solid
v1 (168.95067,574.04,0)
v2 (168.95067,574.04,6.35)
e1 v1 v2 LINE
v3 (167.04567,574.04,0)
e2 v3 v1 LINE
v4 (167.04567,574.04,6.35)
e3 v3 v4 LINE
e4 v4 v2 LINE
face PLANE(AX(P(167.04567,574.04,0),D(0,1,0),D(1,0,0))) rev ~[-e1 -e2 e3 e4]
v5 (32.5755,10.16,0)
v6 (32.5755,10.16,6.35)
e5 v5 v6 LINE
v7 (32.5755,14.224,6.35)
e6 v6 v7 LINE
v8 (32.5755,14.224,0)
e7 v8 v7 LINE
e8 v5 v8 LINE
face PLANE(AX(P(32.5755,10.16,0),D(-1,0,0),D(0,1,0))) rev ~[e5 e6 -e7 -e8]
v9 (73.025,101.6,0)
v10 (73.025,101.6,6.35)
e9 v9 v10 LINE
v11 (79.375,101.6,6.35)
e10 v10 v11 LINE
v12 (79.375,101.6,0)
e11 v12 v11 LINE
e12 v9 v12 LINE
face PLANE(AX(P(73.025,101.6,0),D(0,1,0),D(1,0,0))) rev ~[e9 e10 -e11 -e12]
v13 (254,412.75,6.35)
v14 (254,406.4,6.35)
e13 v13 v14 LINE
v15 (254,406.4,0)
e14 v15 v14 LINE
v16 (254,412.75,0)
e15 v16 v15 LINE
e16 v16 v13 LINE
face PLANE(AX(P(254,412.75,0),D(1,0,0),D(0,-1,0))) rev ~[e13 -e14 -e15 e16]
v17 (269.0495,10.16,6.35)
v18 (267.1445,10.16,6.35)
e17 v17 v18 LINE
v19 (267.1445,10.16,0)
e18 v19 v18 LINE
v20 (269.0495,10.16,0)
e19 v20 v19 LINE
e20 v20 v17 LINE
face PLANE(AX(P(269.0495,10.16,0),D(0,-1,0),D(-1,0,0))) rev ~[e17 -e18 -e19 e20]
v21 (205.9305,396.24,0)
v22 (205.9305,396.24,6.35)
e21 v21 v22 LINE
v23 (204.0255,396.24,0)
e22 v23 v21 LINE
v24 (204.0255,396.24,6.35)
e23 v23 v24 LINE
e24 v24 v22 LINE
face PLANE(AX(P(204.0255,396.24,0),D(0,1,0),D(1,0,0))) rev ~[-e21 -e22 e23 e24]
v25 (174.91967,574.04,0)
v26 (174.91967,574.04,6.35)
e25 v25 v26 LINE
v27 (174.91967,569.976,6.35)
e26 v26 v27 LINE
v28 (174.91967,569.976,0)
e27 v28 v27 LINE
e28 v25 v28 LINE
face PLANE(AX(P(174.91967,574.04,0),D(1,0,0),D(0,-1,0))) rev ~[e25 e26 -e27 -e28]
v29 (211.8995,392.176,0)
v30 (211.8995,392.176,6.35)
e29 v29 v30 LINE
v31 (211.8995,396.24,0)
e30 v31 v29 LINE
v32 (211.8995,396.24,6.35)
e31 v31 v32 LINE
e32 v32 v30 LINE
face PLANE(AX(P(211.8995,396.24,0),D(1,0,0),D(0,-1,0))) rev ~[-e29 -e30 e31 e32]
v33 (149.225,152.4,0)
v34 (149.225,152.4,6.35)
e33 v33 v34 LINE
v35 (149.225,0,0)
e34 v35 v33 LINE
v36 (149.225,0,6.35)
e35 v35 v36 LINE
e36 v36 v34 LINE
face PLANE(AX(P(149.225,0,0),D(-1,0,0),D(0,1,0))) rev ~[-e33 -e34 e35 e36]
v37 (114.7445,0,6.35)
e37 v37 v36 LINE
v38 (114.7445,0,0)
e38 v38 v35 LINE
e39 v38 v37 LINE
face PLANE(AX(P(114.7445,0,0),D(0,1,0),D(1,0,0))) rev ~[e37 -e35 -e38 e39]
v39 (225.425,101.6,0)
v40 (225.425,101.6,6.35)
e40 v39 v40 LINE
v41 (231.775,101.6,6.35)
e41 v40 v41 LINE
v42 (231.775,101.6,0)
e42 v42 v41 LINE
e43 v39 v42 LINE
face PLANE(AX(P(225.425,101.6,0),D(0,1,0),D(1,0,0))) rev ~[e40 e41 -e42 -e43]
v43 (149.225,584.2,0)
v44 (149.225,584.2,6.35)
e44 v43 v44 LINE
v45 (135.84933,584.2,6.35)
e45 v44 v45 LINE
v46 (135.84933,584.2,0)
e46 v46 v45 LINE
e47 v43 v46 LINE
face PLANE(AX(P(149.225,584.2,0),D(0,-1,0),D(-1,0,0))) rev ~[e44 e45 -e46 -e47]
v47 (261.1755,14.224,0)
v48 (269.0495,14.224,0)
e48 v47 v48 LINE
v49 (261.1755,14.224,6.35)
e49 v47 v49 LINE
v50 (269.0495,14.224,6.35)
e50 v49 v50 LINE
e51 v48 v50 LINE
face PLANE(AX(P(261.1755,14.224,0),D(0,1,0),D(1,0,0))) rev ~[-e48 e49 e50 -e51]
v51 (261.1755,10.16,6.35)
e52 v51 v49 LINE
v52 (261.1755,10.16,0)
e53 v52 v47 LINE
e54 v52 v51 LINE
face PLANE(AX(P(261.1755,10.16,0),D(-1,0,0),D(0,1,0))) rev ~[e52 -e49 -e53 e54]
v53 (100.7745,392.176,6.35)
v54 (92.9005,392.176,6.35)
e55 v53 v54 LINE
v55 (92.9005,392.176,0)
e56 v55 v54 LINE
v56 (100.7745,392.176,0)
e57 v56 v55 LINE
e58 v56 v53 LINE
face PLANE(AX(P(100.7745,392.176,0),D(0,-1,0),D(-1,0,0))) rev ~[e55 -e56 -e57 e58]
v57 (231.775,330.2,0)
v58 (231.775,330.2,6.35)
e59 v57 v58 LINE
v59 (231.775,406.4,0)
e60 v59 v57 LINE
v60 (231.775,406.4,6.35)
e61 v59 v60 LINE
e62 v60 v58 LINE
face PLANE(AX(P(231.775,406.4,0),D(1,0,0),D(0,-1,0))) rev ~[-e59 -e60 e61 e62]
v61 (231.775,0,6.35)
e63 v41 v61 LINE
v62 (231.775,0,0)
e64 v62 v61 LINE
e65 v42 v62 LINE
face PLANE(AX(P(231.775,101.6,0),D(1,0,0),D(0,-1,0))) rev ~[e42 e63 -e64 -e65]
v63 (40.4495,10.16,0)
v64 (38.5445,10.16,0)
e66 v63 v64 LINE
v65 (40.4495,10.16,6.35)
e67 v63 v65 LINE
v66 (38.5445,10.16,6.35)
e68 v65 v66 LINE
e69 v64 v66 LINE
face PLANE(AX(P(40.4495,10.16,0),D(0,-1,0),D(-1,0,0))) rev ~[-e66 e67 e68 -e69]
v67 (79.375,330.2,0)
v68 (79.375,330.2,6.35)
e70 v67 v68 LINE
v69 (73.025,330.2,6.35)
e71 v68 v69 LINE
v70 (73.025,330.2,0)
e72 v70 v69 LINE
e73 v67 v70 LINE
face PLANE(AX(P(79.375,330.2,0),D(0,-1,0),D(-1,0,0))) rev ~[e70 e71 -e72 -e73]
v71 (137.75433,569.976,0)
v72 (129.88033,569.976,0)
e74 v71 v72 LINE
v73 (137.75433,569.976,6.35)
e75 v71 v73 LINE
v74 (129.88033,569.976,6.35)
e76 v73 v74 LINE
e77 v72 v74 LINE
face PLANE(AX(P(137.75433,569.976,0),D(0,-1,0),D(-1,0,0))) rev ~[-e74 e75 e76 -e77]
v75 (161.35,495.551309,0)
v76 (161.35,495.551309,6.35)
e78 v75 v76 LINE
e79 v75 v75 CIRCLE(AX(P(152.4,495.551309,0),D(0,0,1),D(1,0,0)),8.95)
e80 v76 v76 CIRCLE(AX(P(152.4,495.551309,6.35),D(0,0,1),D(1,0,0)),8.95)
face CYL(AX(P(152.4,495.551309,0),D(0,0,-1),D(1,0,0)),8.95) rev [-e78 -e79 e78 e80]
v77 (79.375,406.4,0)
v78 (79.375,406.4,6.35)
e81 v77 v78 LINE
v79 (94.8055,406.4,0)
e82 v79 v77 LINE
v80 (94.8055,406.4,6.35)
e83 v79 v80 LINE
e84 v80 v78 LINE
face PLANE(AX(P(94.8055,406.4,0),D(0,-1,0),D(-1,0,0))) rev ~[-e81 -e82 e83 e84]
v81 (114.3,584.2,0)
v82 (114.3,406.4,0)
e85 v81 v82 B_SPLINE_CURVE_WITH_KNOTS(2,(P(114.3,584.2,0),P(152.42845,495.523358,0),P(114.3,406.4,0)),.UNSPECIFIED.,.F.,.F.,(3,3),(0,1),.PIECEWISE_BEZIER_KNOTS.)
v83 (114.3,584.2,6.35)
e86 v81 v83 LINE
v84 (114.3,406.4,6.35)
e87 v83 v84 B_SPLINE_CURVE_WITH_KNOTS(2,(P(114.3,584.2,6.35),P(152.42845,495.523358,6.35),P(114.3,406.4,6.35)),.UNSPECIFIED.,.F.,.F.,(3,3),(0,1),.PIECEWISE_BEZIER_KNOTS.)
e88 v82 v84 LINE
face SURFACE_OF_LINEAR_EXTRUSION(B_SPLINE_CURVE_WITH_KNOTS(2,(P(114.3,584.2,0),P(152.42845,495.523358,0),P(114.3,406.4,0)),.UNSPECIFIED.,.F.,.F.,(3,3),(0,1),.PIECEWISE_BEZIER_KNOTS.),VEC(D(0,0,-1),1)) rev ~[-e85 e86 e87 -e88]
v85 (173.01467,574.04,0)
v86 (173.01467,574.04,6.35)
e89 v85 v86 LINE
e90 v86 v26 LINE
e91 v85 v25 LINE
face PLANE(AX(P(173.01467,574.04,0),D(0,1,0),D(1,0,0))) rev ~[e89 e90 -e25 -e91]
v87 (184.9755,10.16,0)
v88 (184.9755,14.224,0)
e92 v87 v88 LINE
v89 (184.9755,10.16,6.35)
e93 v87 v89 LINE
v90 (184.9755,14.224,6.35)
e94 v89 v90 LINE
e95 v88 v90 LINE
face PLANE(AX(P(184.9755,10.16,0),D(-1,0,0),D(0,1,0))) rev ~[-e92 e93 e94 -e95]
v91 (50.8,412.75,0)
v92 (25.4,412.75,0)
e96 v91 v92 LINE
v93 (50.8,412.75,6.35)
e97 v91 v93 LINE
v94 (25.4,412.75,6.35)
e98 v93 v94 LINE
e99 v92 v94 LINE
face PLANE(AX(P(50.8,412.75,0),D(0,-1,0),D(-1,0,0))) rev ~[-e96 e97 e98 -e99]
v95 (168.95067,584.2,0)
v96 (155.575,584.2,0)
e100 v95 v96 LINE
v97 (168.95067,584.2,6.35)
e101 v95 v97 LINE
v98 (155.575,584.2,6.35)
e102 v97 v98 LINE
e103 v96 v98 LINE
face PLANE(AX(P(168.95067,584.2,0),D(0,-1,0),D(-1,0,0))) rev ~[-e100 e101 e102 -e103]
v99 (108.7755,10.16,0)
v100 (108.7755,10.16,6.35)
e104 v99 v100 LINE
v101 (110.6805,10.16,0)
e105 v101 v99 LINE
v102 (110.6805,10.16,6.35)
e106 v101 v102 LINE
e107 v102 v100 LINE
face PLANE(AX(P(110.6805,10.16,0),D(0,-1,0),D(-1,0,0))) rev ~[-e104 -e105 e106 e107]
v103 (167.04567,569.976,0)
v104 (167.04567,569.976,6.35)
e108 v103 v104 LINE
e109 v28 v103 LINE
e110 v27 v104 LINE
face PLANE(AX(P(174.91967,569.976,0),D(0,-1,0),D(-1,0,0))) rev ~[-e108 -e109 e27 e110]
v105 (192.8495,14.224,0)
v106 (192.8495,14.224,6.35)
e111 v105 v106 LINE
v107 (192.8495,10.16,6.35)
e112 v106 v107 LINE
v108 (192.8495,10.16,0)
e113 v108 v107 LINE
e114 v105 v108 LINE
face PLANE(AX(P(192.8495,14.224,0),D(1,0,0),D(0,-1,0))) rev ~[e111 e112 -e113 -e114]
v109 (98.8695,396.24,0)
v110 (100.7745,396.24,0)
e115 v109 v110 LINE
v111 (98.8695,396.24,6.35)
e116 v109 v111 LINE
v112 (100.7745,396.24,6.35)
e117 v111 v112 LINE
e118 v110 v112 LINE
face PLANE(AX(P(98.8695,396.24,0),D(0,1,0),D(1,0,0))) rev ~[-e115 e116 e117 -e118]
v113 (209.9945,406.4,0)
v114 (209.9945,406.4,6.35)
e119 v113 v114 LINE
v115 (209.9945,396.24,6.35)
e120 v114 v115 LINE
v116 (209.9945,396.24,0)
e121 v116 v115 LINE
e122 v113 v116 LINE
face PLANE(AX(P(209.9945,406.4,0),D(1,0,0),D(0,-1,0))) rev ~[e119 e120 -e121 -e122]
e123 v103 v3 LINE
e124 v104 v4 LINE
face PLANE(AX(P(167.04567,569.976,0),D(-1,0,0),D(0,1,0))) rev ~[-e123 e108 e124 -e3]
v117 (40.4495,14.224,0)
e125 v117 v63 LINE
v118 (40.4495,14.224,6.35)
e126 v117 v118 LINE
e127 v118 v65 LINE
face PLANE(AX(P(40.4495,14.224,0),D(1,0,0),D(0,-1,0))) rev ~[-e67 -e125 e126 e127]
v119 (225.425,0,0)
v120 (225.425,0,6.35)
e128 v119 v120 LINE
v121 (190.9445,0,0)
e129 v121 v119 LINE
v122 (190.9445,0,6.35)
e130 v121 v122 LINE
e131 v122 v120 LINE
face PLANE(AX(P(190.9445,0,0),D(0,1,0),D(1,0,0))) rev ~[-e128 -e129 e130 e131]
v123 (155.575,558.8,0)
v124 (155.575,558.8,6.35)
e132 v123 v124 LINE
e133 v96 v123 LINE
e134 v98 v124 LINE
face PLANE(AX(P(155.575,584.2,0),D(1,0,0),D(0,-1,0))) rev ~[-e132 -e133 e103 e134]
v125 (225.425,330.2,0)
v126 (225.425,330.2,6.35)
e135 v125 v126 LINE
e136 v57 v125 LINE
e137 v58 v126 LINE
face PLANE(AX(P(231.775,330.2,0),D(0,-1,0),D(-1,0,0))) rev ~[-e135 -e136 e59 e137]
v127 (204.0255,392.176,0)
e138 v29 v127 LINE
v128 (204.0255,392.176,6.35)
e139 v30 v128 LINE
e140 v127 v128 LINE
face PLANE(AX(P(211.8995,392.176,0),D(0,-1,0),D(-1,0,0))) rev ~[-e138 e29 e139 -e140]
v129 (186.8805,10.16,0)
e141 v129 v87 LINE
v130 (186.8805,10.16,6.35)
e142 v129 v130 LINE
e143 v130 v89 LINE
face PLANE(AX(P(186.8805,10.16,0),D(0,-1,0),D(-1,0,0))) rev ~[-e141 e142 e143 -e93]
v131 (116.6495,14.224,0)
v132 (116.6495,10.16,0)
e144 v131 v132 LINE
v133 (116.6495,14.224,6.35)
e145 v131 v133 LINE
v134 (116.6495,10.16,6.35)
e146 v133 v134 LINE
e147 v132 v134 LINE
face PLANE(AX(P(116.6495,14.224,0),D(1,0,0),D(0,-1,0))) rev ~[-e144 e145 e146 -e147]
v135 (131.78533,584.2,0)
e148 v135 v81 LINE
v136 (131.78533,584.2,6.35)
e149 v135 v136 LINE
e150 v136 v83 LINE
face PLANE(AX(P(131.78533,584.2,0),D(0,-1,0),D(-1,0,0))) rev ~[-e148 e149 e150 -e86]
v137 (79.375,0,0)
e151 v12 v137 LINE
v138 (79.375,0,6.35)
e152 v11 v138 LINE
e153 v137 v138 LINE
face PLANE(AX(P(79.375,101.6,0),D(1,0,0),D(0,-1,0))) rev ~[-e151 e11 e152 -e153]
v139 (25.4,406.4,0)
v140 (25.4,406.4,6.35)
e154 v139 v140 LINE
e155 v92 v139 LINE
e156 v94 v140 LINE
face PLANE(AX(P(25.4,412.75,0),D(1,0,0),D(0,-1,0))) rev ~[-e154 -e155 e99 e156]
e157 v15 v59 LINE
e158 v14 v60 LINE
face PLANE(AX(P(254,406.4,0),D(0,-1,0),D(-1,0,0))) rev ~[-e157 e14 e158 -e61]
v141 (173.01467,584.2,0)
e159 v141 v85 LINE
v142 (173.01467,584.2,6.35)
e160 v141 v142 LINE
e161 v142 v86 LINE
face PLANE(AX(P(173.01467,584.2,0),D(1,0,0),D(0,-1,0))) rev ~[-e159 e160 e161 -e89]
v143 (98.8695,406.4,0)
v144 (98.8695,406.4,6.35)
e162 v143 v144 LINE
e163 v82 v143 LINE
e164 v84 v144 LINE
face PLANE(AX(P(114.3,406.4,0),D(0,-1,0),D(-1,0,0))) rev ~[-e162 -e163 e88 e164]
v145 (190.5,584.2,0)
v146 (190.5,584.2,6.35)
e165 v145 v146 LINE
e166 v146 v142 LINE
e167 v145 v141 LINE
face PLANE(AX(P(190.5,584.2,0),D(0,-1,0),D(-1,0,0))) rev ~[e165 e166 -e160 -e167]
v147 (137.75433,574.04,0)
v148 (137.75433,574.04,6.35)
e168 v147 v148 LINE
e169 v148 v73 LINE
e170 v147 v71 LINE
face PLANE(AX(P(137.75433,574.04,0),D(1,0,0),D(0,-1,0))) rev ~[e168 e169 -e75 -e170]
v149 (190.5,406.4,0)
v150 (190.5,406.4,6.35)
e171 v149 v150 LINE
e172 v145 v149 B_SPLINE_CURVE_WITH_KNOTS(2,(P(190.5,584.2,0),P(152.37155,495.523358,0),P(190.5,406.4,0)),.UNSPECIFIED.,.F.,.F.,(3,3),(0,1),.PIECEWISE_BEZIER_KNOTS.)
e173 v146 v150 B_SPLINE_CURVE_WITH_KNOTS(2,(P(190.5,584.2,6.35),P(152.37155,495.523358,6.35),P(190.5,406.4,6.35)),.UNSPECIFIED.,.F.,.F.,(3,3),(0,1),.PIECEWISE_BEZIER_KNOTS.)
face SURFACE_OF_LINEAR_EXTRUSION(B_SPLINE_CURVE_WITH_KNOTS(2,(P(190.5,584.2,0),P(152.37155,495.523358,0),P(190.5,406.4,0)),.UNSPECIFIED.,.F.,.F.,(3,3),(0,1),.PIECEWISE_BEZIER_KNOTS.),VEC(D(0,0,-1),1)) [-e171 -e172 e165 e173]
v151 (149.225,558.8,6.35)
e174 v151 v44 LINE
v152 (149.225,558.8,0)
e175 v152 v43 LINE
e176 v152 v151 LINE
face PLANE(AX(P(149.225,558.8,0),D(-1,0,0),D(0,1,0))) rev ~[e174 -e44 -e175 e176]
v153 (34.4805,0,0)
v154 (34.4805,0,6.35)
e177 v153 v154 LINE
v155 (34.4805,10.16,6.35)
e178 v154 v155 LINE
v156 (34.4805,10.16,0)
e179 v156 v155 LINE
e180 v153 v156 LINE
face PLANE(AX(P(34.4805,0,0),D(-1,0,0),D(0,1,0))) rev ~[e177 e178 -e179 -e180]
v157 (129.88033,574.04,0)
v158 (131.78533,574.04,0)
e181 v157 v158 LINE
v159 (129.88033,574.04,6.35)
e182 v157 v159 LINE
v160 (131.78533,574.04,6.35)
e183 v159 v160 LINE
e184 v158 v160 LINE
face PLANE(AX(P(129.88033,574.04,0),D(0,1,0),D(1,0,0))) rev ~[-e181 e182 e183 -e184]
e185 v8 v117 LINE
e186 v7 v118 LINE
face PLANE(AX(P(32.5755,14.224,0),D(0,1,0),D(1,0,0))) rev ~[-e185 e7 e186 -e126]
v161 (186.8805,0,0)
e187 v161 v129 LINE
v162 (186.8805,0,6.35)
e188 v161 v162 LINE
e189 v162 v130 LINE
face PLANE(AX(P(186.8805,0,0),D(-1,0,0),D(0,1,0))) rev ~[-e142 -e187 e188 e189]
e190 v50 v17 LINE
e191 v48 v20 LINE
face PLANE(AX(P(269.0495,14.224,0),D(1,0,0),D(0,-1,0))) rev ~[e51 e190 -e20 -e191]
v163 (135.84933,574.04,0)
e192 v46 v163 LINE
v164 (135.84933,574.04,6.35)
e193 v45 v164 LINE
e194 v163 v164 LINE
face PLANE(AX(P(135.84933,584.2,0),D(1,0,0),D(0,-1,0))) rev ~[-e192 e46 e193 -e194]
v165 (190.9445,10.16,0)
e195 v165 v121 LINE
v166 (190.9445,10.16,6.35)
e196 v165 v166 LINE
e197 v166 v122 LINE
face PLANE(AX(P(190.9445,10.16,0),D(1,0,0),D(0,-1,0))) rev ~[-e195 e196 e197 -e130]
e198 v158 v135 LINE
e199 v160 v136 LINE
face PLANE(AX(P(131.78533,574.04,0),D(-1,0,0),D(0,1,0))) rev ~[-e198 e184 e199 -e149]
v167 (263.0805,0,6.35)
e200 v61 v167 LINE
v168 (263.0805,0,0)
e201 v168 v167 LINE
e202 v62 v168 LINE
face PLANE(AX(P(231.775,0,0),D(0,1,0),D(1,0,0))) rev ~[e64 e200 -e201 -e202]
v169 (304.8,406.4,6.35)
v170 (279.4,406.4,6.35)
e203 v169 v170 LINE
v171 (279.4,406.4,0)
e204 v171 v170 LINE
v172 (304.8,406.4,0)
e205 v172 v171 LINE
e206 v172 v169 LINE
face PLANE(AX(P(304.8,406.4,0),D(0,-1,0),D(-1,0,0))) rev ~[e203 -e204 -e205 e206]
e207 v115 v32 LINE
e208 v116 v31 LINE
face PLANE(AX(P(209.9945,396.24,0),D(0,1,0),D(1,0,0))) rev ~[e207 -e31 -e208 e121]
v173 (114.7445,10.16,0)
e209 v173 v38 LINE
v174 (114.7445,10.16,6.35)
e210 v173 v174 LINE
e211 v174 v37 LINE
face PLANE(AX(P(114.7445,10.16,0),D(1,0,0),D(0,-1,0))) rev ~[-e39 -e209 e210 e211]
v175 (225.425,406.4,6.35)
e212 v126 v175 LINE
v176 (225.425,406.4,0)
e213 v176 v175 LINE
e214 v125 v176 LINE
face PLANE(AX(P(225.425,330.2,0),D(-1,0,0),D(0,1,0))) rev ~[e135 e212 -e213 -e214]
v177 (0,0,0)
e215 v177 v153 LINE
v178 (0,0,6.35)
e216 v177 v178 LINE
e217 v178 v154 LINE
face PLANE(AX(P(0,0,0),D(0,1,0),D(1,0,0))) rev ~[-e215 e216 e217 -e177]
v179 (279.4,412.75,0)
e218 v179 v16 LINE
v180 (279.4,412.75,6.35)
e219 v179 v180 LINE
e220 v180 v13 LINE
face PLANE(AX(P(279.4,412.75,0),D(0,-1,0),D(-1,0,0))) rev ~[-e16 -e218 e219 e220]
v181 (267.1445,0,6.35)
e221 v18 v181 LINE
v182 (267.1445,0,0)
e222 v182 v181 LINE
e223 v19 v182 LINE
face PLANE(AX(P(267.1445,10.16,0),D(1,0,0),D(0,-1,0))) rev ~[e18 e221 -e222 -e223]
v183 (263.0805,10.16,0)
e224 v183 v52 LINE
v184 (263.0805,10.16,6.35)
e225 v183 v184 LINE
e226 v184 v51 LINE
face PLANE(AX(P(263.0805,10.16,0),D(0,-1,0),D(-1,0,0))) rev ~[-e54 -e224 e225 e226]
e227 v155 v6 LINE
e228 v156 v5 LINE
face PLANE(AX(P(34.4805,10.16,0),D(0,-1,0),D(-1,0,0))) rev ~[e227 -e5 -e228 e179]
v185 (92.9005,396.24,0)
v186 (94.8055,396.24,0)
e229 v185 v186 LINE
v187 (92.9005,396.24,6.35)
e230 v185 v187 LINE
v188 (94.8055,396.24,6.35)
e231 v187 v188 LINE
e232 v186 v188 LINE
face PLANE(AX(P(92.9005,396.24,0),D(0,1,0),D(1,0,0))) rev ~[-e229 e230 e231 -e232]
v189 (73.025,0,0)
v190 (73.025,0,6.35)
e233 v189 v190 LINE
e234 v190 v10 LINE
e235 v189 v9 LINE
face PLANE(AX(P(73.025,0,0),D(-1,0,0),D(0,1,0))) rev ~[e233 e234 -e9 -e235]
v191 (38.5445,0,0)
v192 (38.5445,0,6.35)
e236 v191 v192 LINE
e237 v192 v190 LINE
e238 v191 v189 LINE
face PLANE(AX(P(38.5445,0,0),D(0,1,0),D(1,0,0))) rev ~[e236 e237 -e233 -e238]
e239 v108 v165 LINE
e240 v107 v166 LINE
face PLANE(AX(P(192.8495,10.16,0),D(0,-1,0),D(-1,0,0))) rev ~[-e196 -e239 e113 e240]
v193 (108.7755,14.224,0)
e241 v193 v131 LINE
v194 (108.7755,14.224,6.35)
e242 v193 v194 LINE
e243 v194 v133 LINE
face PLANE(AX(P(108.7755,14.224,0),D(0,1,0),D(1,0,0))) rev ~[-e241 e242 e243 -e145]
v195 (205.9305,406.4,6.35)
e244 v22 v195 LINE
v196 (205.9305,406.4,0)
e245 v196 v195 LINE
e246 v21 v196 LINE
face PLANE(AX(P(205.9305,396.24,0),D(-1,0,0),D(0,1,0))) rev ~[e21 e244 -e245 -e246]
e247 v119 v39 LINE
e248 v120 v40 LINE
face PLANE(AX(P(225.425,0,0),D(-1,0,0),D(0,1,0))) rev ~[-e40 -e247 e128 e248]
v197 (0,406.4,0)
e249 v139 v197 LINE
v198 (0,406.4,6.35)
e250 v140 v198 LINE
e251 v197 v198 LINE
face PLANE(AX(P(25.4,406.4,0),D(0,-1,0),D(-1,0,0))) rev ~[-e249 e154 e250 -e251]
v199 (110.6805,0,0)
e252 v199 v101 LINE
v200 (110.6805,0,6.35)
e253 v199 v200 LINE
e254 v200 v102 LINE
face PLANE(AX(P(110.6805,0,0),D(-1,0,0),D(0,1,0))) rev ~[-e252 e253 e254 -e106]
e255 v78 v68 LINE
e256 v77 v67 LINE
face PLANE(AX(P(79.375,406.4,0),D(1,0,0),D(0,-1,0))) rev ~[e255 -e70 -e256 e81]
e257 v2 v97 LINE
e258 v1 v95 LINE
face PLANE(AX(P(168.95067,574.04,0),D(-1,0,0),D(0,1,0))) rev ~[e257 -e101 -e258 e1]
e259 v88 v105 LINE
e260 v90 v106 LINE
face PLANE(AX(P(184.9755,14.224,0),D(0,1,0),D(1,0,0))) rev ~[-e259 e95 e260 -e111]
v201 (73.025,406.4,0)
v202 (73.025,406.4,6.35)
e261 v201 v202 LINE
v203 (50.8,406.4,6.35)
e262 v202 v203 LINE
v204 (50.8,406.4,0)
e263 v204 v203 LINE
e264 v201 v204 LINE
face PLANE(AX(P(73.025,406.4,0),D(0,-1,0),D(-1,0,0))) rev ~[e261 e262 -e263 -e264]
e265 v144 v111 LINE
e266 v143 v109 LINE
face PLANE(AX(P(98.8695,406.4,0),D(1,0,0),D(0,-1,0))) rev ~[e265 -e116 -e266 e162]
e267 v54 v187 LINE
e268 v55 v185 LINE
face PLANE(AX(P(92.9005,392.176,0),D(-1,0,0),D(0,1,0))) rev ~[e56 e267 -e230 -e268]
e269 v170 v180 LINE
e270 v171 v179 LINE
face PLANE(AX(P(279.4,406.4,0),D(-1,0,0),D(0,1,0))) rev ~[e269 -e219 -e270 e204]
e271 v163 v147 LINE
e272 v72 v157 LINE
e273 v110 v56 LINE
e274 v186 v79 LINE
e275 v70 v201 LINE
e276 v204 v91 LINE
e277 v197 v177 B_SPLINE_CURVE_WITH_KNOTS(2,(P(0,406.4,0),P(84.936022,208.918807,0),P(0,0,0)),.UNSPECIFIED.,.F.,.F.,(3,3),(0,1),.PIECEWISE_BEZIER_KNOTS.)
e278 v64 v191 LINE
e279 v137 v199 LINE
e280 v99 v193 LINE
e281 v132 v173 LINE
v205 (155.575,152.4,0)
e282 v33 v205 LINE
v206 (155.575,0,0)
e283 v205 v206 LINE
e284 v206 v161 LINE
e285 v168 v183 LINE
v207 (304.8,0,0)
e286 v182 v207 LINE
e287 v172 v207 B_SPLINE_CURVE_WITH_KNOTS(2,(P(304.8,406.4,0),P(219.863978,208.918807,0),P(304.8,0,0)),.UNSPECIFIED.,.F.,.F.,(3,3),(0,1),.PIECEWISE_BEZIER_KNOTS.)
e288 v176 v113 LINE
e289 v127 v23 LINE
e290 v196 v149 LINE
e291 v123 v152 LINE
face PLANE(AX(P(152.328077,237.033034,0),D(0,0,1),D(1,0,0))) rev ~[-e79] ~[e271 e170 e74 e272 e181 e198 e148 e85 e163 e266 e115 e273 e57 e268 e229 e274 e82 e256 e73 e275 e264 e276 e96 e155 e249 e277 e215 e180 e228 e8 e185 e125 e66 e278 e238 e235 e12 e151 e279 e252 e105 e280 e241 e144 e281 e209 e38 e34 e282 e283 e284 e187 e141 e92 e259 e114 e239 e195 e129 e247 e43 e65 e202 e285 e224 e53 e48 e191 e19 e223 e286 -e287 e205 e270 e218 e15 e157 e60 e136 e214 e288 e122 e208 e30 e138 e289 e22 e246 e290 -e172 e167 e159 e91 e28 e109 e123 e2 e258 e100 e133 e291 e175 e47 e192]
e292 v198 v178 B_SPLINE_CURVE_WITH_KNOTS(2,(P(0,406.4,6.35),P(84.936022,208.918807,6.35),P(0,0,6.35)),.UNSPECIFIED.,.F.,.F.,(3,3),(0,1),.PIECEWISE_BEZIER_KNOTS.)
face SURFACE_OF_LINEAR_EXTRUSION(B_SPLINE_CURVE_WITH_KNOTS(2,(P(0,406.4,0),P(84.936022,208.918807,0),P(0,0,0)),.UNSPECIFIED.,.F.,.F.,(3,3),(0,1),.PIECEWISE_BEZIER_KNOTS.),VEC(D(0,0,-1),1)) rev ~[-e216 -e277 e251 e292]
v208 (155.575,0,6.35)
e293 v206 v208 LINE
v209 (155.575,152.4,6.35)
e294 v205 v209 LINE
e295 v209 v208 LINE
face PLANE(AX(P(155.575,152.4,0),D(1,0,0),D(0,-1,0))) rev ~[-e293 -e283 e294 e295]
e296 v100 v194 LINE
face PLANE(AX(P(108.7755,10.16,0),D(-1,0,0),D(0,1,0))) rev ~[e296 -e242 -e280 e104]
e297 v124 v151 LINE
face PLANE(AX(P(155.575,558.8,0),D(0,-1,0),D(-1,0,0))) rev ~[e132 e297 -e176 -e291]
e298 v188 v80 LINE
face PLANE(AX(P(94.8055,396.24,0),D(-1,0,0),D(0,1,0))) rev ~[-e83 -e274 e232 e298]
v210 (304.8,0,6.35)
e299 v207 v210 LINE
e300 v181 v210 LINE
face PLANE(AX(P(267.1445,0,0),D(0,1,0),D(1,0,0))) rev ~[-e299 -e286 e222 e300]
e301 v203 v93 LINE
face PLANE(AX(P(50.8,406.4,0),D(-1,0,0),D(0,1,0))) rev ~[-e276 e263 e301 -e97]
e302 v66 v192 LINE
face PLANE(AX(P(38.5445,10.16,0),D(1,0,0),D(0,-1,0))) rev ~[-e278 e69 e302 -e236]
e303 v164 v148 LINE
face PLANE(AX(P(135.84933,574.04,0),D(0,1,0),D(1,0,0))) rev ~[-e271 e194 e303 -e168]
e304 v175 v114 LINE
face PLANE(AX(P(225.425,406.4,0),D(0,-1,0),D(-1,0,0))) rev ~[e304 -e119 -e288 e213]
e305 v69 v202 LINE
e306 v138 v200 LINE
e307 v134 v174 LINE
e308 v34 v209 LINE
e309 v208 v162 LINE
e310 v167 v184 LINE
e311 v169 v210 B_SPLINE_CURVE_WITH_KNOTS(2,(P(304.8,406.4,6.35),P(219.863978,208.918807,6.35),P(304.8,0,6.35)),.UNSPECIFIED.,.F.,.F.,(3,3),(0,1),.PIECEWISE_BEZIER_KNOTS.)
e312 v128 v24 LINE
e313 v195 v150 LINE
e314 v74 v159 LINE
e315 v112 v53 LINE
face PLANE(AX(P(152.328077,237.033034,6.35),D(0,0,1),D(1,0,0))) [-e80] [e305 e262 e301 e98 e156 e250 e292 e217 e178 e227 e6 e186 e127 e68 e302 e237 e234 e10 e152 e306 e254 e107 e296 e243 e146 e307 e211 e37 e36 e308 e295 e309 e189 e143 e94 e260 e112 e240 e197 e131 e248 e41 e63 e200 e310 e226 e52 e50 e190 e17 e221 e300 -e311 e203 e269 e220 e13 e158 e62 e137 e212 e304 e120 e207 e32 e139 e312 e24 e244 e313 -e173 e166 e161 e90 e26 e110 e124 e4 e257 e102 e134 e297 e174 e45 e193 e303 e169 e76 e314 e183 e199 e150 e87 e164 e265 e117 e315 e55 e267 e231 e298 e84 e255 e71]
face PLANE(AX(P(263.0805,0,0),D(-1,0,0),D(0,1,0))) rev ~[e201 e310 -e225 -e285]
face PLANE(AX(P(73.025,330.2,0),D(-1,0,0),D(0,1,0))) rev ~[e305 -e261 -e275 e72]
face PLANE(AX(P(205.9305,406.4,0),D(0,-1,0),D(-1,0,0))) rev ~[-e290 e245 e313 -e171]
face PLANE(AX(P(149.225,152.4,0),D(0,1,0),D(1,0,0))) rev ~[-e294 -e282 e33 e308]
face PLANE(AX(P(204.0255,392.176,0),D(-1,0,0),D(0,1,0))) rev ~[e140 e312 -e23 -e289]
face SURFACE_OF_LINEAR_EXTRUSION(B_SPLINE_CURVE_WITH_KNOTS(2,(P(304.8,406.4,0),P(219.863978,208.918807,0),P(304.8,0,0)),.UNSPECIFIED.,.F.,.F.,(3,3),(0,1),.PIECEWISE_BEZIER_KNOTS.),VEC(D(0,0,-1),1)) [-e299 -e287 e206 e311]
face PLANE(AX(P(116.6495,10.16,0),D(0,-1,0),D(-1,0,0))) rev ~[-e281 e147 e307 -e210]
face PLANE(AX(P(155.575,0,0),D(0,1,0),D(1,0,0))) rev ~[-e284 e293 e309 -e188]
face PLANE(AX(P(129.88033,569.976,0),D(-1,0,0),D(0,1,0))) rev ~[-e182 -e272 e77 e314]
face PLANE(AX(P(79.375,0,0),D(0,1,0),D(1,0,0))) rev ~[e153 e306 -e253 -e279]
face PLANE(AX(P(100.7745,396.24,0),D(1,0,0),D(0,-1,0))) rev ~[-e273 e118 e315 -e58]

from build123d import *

# Parameters (mm, degrees)
SKETCH1_R           = 8.95
BOSS_EXTRUDE1_DEPTH = 6.35


with BuildPart() as part:
    # Sketch1 → Boss-Extrude1 (new body)
    with BuildSketch(Plane.XY):
        with BuildLine():
            Line((0, 0), (34.4805, 0))
            Line((34.4805, 0), (34.4805, 10.16))
            Line((34.4805, 10.16), (32.5755, 10.16))
            Line((32.5755, 10.16), (32.5755, 14.224))
            Line((32.5755, 14.224), (40.4495, 14.224))
            Line((40.4495, 14.224), (40.4495, 10.16))
            Line((40.4495, 10.16), (38.5445, 10.16))
            Line((38.5445, 10.16), (38.5445, 0))
            Line((38.5445, 0), (73.025, 0))
            Line((73.025, 0), (73.025, 101.6))
            Line((73.025, 101.6), (79.375, 101.6))
            Line((79.375, 101.6), (79.375, 0))
            Line((79.375, 0), (110.6805, 0))
            Line((110.6805, 0), (110.6805, 10.16))
            Line((110.6805, 10.16), (108.7755, 10.16))
            Line((108.7755, 10.16), (108.7755, 14.224))
            Line((108.7755, 14.224), (116.6495, 14.224))
            Line((116.6495, 14.224), (116.6495, 10.16))
            Line((116.6495, 10.16), (114.7445, 10.16))
            Line((114.7445, 10.16), (114.7445, 0))
            Line((114.7445, 0), (149.225, 0))
            Line((149.225, 0), (149.225, 152.4))
            Line((149.225, 152.4), (155.575, 152.4))
            Line((155.575, 152.4), (155.575, 0))
            Line((155.575, 0), (186.8805, 0))
            Line((186.8805, 0), (186.8805, 10.16))
            Line((186.8805, 10.16), (184.9755, 10.16))
            Line((184.9755, 10.16), (184.9755, 14.224))
            Line((184.9755, 14.224), (192.8495, 14.224))
            Line((192.8495, 14.224), (192.8495, 10.16))
            Line((192.8495, 10.16), (190.9445, 10.16))
            Line((190.9445, 10.16), (190.9445, 0))
            Line((190.9445, 0), (225.425, 0))
            Line((225.425, 0), (225.425, 101.6))
            Line((225.425, 101.6), (231.775, 101.6))
            Line((231.775, 101.6), (231.775, 0))
            Line((231.775, 0), (263.0805, 0))
            Line((263.0805, 0), (263.0805, 10.16))
            Line((263.0805, 10.16), (261.1755, 10.16))
            Line((261.1755, 10.16), (261.1755, 14.224))
            Line((261.1755, 14.224), (269.0495, 14.224))
            Line((269.0495, 14.224), (269.0495, 10.16))
            Line((269.0495, 10.16), (267.1445, 10.16))
            Line((267.1445, 10.16), (267.1445, 0))
            Line((267.1445, 0), (304.8, 0))
            add(Edge.make_bspline(
                [(304.8, 406.4), (219.863978117, 208.91880682), (304.8, 0)],
                knots=[0, 0, 0, 1, 1, 1], degree=2))
            Line((304.8, 406.4), (279.4, 406.4))
            Line((279.4, 406.4), (279.4, 412.75))
            Line((279.4, 412.75), (254, 412.75))
            Line((254, 412.75), (254, 406.4))
            Line((254, 406.4), (231.775, 406.4))
            Line((231.775, 406.4), (231.775, 330.2))
            Line((231.775, 330.2), (225.425, 330.2))
            Line((225.425, 330.2), (225.425, 406.4))
            Line((225.425, 406.4), (209.9945, 406.4))
            Line((209.9945, 406.4), (209.9945, 396.24))
            Line((209.9945, 396.24), (211.8995, 396.24))
            Line((211.8995, 396.24), (211.8995, 392.176))
            Line((211.8995, 392.176), (204.0255, 392.176))
            Line((204.0255, 392.176), (204.0255, 396.24))
            Line((204.0255, 396.24), (205.9305, 396.24))
            Line((205.9305, 396.24), (205.9305, 406.4))
            Line((205.9305, 406.4), (190.5, 406.4))
            add(Edge.make_bspline(
                [(190.5, 584.2), (152.371549644, 495.523357598), (190.5, 406.4)],
                knots=[0, 0, 0, 1, 1, 1], degree=2))
            Line((190.5, 584.2), (173.014669528, 584.2))
            Line((173.014669528, 584.2), (173.014669528, 574.04))
            Line((173.014669528, 574.04), (174.919669528, 574.04))
            Line((174.919669528, 574.04), (174.919669528, 569.976))
            Line((174.919669528, 569.976), (167.045669528, 569.976))
            Line((167.045669528, 569.976), (167.045669528, 574.04))
            Line((167.045669528, 574.04), (168.950669528, 574.04))
            Line((168.950669528, 574.04), (168.950669528, 584.2))
            Line((168.950669528, 584.2), (155.575, 584.2))
            Line((155.575, 584.2), (155.575, 558.8))
            Line((155.575, 558.8), (149.225, 558.8))
            Line((149.225, 558.8), (149.225, 584.2))
            Line((149.225, 584.2), (135.849330472, 584.2))
            Line((135.849330472, 584.2), (135.849330472, 574.04))
            Line((135.849330472, 574.04), (137.754330472, 574.04))
            Line((137.754330472, 574.04), (137.754330472, 569.976))
            Line((137.754330472, 569.976), (129.880330472, 569.976))
            Line((129.880330472, 569.976), (129.880330472, 574.04))
            Line((129.880330472, 574.04), (131.785330472, 574.04))
            Line((131.785330472, 574.04), (131.785330472, 584.2))
            Line((131.785330472, 584.2), (114.3, 584.2))
            add(Edge.make_bspline(
                [(114.3, 584.2), (152.428450356, 495.523357598), (114.3, 406.4)],
                knots=[0, 0, 0, 1, 1, 1], degree=2))
            Line((114.3, 406.4), (98.8695, 406.4))
            Line((98.8695, 406.4), (98.8695, 396.24))
            Line((98.8695, 396.24), (100.7745, 396.24))
            Line((100.7745, 396.24), (100.7745, 392.176))
            Line((100.7745, 392.176), (92.9005, 392.176))
            Line((92.9005, 392.176), (92.9005, 396.24))
            Line((92.9005, 396.24), (94.8055, 396.24))
            Line((94.8055, 396.24), (94.8055, 406.4))
            Line((94.8055, 406.4), (79.375, 406.4))
            Line((79.375, 406.4), (79.375, 330.2))
            Line((79.375, 330.2), (73.025, 330.2))
            Line((73.025, 330.2), (73.025, 406.4))
            Line((73.025, 406.4), (50.8, 406.4))
            Line((50.8, 406.4), (50.8, 412.75))
            Line((50.8, 412.75), (25.4, 412.75))
            Line((25.4, 412.75), (25.4, 406.4))
            Line((25.4, 406.4), (0, 406.4))
            add(Edge.make_bspline(
                [(0, 406.4), (84.936021883, 208.91880682), (0, 0)],
                knots=[0, 0, 0, 1, 1, 1], degree=2))
        make_face()
        with Locations((152.4, 495.55130888)):
            Circle(SKETCH1_R, mode=Mode.SUBTRACT)
    extrude(amount=BOSS_EXTRUDE1_DEPTH)


solid = part.part
